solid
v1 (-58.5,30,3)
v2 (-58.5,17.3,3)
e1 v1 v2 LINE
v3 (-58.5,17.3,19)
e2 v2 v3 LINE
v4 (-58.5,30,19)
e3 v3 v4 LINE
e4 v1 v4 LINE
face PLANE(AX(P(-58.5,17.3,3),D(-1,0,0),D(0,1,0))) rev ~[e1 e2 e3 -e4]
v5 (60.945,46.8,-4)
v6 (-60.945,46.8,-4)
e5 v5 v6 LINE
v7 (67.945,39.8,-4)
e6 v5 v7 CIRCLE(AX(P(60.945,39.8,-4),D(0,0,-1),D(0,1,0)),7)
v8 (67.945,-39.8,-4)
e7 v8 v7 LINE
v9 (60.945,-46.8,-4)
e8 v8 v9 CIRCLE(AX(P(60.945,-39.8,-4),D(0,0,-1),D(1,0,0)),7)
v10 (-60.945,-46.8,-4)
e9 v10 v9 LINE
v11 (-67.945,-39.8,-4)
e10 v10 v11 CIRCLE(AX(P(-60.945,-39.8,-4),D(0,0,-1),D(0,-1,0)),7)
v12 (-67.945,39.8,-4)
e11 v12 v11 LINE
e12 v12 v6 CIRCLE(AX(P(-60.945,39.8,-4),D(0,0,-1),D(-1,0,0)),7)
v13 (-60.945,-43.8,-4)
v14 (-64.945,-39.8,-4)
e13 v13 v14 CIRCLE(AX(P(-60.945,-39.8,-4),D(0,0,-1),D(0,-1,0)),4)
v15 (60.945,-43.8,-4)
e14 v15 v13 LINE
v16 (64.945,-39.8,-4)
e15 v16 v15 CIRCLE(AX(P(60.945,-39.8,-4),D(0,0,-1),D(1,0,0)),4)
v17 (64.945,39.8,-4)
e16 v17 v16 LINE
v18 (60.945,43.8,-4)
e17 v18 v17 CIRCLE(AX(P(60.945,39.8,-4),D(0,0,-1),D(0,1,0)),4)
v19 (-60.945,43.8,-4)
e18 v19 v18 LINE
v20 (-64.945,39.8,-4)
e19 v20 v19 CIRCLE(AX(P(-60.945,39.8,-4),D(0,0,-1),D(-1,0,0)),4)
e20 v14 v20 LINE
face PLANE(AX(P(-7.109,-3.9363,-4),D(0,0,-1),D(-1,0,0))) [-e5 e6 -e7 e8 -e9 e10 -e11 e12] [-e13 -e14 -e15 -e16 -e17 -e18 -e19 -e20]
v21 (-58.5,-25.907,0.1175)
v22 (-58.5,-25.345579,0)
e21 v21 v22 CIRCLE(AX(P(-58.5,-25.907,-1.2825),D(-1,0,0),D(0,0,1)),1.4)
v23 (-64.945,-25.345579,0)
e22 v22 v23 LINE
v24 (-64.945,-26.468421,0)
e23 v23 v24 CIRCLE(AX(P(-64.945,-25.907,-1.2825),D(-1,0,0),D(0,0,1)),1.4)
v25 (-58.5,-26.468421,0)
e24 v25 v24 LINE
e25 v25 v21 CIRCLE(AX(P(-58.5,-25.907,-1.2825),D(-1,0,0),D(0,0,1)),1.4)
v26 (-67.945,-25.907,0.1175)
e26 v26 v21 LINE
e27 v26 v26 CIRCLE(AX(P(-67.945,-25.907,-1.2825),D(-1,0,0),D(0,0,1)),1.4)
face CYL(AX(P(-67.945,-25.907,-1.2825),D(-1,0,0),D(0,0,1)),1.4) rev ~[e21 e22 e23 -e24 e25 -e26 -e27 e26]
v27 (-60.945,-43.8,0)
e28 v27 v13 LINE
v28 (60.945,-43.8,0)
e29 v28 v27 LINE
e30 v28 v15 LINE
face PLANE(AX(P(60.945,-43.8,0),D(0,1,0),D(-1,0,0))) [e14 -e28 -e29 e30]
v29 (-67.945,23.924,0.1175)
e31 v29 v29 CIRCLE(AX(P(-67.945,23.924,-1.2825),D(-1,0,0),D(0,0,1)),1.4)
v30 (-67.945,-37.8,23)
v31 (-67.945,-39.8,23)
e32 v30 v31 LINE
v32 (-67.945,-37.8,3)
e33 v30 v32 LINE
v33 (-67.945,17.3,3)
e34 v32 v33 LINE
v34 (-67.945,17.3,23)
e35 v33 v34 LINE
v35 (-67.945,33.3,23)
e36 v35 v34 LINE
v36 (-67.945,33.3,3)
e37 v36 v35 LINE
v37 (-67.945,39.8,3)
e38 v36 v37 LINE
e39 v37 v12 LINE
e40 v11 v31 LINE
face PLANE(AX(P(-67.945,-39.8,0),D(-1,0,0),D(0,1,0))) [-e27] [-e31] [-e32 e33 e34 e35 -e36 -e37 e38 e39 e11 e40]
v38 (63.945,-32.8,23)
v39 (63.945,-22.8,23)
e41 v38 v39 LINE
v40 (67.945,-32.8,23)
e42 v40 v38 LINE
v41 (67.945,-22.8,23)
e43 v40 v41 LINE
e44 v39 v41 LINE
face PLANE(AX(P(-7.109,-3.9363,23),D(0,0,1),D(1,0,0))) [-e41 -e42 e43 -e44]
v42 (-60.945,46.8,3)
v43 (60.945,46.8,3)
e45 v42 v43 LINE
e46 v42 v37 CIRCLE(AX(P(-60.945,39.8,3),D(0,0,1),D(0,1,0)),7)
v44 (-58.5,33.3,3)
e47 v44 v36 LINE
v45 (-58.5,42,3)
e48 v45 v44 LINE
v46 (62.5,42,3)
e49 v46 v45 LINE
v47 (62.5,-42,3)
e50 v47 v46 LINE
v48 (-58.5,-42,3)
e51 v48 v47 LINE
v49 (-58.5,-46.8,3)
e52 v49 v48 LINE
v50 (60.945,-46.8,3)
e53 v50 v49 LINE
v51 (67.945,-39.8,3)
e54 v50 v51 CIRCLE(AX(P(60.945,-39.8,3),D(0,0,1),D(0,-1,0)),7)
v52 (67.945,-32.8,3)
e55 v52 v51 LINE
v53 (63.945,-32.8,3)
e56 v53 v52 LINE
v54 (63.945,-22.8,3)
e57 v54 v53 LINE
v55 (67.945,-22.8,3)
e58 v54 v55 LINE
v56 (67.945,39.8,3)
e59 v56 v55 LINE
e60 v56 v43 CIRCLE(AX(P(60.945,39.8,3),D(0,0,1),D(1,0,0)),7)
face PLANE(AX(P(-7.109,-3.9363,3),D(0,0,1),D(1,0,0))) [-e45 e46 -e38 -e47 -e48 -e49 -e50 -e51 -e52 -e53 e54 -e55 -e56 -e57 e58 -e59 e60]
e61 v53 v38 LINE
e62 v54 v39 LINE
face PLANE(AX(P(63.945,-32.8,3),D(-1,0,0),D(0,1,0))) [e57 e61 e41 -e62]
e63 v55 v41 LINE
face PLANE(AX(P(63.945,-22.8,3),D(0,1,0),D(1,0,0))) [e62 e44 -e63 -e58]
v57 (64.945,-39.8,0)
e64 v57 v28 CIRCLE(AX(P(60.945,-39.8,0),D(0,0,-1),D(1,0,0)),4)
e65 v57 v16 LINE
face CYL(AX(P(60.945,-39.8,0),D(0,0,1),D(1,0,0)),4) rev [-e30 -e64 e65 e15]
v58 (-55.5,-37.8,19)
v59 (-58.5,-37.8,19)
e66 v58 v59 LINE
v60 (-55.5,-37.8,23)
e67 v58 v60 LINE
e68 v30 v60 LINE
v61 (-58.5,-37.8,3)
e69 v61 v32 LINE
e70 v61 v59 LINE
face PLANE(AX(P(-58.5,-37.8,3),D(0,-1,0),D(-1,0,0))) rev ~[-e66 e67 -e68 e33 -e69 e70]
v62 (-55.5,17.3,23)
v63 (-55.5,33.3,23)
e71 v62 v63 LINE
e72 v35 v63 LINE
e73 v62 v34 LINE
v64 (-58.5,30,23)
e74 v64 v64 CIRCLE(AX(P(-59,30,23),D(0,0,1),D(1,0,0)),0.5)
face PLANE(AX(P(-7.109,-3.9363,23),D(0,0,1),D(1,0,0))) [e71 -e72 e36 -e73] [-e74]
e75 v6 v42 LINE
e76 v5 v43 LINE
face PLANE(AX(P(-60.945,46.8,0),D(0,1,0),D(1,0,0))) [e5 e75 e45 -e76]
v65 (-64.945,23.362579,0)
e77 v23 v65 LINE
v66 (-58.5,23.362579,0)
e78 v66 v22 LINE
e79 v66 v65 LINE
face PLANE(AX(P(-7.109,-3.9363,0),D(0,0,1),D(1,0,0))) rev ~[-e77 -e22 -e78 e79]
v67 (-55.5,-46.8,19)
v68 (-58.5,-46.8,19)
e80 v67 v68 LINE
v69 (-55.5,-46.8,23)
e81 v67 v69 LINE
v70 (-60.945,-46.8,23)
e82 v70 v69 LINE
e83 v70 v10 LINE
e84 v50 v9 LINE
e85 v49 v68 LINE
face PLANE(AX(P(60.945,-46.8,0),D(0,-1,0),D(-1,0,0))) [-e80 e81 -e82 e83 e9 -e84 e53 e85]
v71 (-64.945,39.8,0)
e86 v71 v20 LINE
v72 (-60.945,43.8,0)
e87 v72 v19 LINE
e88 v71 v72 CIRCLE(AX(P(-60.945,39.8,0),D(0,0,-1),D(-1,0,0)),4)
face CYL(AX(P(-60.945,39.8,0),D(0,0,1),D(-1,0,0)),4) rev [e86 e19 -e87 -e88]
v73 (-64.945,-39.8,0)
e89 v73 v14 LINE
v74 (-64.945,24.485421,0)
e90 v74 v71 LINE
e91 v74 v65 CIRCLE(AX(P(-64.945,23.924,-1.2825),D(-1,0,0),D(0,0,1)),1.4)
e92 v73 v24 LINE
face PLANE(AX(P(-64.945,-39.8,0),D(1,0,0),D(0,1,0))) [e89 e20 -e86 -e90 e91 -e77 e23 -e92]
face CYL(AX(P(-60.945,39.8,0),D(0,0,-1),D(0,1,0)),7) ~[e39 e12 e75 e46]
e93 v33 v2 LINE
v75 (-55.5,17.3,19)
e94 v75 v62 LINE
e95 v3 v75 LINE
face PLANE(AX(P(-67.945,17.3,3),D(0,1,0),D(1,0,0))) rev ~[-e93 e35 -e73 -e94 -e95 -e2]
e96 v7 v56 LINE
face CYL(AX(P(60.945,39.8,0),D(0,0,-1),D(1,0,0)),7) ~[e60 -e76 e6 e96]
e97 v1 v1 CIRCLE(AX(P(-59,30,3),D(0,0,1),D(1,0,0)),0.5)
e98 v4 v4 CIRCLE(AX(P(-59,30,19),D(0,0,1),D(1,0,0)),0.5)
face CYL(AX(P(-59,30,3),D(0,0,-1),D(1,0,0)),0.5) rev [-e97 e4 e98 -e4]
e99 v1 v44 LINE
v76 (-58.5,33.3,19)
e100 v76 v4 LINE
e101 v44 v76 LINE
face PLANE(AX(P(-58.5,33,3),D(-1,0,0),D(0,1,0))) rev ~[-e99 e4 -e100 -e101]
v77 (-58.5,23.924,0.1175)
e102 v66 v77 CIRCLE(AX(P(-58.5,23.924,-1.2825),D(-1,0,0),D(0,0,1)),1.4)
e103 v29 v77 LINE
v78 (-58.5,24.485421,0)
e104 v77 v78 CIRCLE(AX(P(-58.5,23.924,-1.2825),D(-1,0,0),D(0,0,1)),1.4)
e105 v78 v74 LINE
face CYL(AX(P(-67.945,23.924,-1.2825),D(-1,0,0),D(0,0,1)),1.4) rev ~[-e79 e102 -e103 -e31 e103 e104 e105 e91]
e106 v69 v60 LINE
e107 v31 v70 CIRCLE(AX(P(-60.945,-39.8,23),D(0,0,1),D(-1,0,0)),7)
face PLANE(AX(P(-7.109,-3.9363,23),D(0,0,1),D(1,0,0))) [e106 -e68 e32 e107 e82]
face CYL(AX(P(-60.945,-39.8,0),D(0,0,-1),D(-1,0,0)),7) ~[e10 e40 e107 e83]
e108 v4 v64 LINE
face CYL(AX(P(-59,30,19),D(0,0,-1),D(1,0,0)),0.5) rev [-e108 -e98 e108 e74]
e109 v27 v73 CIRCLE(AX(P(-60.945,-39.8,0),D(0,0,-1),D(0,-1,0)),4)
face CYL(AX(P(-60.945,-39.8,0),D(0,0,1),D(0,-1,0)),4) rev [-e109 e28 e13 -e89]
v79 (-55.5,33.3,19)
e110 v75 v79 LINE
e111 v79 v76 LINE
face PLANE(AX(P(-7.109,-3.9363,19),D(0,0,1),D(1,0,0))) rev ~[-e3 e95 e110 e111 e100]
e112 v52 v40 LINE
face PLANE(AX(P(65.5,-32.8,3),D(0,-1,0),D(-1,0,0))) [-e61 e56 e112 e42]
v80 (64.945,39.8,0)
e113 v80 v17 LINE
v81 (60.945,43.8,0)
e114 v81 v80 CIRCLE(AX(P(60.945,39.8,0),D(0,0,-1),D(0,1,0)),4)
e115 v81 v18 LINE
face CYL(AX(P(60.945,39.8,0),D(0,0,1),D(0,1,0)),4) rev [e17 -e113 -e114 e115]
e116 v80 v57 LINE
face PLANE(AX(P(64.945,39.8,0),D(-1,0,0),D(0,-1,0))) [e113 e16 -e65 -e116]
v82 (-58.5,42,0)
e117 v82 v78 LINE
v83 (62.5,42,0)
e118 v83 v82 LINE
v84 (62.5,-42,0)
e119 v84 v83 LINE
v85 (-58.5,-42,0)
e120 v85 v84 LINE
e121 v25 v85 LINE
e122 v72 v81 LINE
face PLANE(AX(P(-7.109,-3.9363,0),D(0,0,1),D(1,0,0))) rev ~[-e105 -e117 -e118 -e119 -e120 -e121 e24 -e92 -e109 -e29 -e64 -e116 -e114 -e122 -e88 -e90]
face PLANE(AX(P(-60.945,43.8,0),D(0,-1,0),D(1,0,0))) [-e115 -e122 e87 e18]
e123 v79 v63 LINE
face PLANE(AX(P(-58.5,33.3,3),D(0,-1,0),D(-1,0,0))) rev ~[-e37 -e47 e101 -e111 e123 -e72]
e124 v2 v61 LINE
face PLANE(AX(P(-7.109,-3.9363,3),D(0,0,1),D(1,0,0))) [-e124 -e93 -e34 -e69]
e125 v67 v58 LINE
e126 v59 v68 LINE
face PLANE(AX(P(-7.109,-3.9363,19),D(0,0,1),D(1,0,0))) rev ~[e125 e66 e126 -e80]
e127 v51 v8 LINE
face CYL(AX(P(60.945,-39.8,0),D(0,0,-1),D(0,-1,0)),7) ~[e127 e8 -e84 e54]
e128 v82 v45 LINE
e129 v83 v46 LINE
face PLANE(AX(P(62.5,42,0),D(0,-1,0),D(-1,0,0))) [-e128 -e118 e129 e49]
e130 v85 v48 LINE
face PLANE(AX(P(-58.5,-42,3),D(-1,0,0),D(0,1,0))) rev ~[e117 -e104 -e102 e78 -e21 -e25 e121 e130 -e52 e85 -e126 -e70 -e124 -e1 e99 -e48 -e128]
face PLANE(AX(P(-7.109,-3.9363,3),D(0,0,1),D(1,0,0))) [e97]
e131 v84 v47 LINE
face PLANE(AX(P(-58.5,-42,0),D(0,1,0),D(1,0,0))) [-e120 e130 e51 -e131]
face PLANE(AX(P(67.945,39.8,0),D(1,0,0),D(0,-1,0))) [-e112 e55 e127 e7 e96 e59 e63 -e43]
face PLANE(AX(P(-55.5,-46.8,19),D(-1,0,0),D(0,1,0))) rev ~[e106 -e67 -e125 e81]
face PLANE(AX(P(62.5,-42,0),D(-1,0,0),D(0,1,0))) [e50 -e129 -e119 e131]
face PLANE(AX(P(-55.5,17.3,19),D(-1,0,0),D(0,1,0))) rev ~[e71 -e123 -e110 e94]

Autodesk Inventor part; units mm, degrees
ref_plane "YZ Plane" through (0, 0, 0) normal (1, 0, 0) x (0, 1, 0)
ref_plane "XZ Plane" through (0, 0, 0) normal (0, 1, 0) x (-1, 0, 0)
ref_plane "XY Plane" through (0, 0, 0) normal (0, 0, 1) x (1, 0, 0)
ref_plane "Work Plane1" through (-7.109, -3.9363, 0) normal (0, 0, 1) x (1, 0, 0)
sketch "Sketch1" plane through (-7.109, -3.9363, 0) normal (0, 0, 1) x (1, 0, 0)
  line L0 (71.054, 43.7363) -> (71.054, -35.8637) construction
  arc A0 (71.054, 43.7363) -> (68.054, 46.7363) centre (68.054, 43.7363) ccw construction
  line L1 (-53.836, 46.7363) -> (68.054, 46.7363) construction
  arc A1 (-53.836, 46.7363) -> (-56.836, 43.7363) centre (-53.836, 43.7363) ccw construction
  line L2 (-56.836, -35.8637) -> (-56.836, 43.7363) construction
  arc A2 (-56.836, -35.8637) -> (-53.836, -38.8637) centre (-53.836, -35.8637) ccw construction
  line L3 (68.054, -38.8637) -> (-53.836, -38.8637) construction
  arc A3 (68.054, -38.8637) -> (71.054, -35.8637) centre (68.054, -35.8637) ccw construction
  line L4 (-56.516, -35.5437) -> (-56.516, 43.4163) construction
  arc A4 (-53.516, 46.4163) -> (-56.516, 43.4163) centre (-53.516, 43.4163) ccw construction
  line L5 (-53.516, 46.4163) -> (67.734, 46.4163) construction
  arc A5 (70.734, 43.4163) -> (67.734, 46.4163) centre (67.734, 43.4163) ccw construction
  line L6 (70.734, 43.4163) -> (70.734, -35.5437) construction
  arc A6 (67.734, -38.5437) -> (70.734, -35.5437) centre (67.734, -35.5437) ccw construction
  line L7 (67.734, -38.5437) -> (-53.516, -38.5437) construction
  arc A7 (-56.516, -35.5437) -> (-53.516, -38.5437) centre (-53.516, -35.5437) ccw construction
  arc A8 (75.054, 43.7363) -> (68.054, 50.7363) centre (68.054, 43.7363) ccw
  line L8 (75.054, 43.7363) -> (75.054, -35.8637)
  arc A9 (68.054, -42.8637) -> (75.054, -35.8637) centre (68.054, -35.8637) ccw
  line L9 (68.054, -42.8637) -> (-53.836, -42.8637)
  arc A10 (-60.836, -35.8637) -> (-53.836, -42.8637) centre (-53.836, -35.8637) ccw
  line L10 (-60.836, -35.8637) -> (-60.836, 43.7363)
  arc A11 (-53.836, 50.7363) -> (-60.836, 43.7363) centre (-53.836, 43.7363) ccw
  line L11 (-53.836, 50.7363) -> (68.054, 50.7363)
  circle A12 centre (53.6173, 21.8363) radius 4 construction
  circle A13 centre (53.6173, 3.8363) radius 4 construction
  circle A14 centre (53.6173, -14.1637) radius 4 construction
  circle A15 centre (35.6173, 21.8363) radius 4 construction
  circle A16 centre (35.6173, 3.8363) radius 4 construction
  circle A17 centre (35.6173, -14.1637) radius 4 construction
  circle A18 centre (17.6173, 21.8363) radius 4 construction
  circle A19 centre (17.6173, 3.8363) radius 4 construction
  circle A20 centre (17.6173, -14.1637) radius 4 construction
  circle A21 centre (-0.3827, 21.8363) radius 4 construction
  circle A22 centre (-0.3827, 3.8363) radius 4 construction
  circle A23 centre (-0.3827, -14.1637) radius 4 construction
  circle A24 centre (-18.3827, 21.8363) radius 4 construction
  circle A25 centre (-18.3827, 3.8363) radius 4 construction
  circle A26 centre (-18.3827, -14.1637) radius 4 construction
  circle A27 centre (-36.3827, 21.8363) radius 4 construction
  circle A28 centre (-36.3827, 3.8363) radius 4 construction
  circle A29 centre (-36.3827, -14.1637) radius 4 construction
  circle A30 centre (-36.3827, 30.7863) radius 4.375 construction
  circle A31 centre (-18.3827, 30.7863) radius 4.375 construction
  circle A32 centre (-0.3827, 30.7863) radius 4.375 construction
  circle A33 centre (17.6173, 30.7863) radius 4.375 construction
  circle A34 centre (35.6173, 30.7863) radius 4.375 construction
  circle A35 centre (53.6173, 30.7863) radius 4.375 construction
  circle A36 centre (-36.3827, 12.7863) radius 4.375 construction
  circle A37 centre (-18.3827, 12.7863) radius 4.375 construction
  circle A38 centre (-0.3827, 12.7863) radius 4.375 construction
  circle A39 centre (17.6173, 12.7863) radius 4.375 construction
  circle A40 centre (35.6173, 12.7863) radius 4.375 construction
  circle A41 centre (53.6173, 12.7863) radius 4.375 construction
  circle A42 centre (-36.3827, -5.2137) radius 4.375 construction
  circle A43 centre (-18.3827, -5.2137) radius 4.375 construction
  circle A44 centre (-0.3827, -5.2137) radius 4.375 construction
  circle A45 centre (17.6173, -5.2137) radius 4.375 construction
  circle A46 centre (35.6173, -5.2137) radius 4.375 construction
  circle A47 centre (53.6173, -5.2137) radius 4.375 construction
  circle A48 centre (-36.3827, -23.2137) radius 4.375 construction
  circle A49 centre (-18.3827, -23.2137) radius 4.375 construction
  circle A50 centre (-0.3827, -23.2137) radius 4.375 construction
  circle A51 centre (17.6173, -23.2137) radius 4.375 construction
  circle A52 centre (35.6173, -23.2137) radius 4.375 construction
  circle A53 centre (53.6173, -23.2137) radius 4.375 construction
  arc A54 (57.7361, 42.9363) -> (61.1439, 37.9635) centre (61.609, 41.9363) ccw construction
  line L12 (-39.518, 42.9363) -> (57.7361, 42.9363) construction
  arc A55 (-42.9259, 37.9635) -> (-39.518, 42.9363) centre (-43.391, 41.9363) ccw construction
  arc A56 (-48.391, 33.7282) -> (-42.9259, 37.9635) centre (-46.891, 37.4363) ccw construction
  line L13 (-48.391, -25.8556) -> (-48.391, 33.7282) construction
  arc A57 (-42.9259, -30.0908) -> (-48.391, -25.8556) centre (-46.891, -29.5637) ccw construction
  arc A58 (-39.518, -35.0637) -> (-42.9259, -30.0908) centre (-43.391, -34.0637) ccw construction
  line L14 (57.7361, -35.0637) -> (-39.518, -35.0637) construction
  arc A59 (61.1439, -30.0908) -> (57.7361, -35.0637) centre (61.609, -34.0637) ccw construction
  arc A60 (66.609, -25.8556) -> (61.1439, -30.0908) centre (65.109, -29.5637) ccw construction
  line L15 (66.609, 33.7282) -> (66.609, -25.8556) construction
  arc A61 (61.1439, 37.9635) -> (66.609, 33.7282) centre (65.109, 37.4363) ccw construction
  arc A62 (67.609, -27.9054) -> (62.6207, -31.2394) centre (65.109, -29.5637) ccw construction
  arc A63 (62.6207, -31.2394) -> (59.373, -36.0637) centre (61.609, -34.0637) ccw construction
  line L16 (59.373, -36.0637) -> (-41.1549, -36.0637) construction
  arc A64 (-41.1549, -36.0637) -> (-44.4026, -31.2394) centre (-43.391, -34.0637) ccw construction
  arc A65 (-44.4026, -31.2394) -> (-49.391, -27.9054) centre (-46.891, -29.5637) ccw construction
  line L17 (-49.391, -27.9054) -> (-49.391, 35.778) construction
  arc A66 (-49.391, 35.778) -> (-44.4026, 39.112) centre (-46.891, 37.4363) ccw construction
  arc A67 (-44.4026, 39.112) -> (-41.1549, 43.9363) centre (-43.391, 41.9363) ccw construction
  line L18 (-41.1549, 43.9363) -> (59.373, 43.9363) construction
  arc A68 (59.373, 43.9363) -> (62.6207, 39.112) centre (61.609, 41.9363) ccw construction
  arc A69 (62.6207, 39.112) -> (67.609, 35.778) centre (65.109, 37.4363) ccw construction
  line L19 (67.609, 35.778) -> (67.609, -27.9054) construction
  line L20 (69.609, 45.9363) -> (-51.391, 45.9363)
  line L21 (-51.391, 45.9363) -> (-51.391, -38.0637)
  line L22 (-51.391, -38.0637) -> (69.609, -38.0637)
  line L23 (69.609, -38.0637) -> (69.609, 45.9363)
  point P0 (7.109, 3.9363)
  dimension "d0" = 4
  dimension "d1" = 1
  dimension "d10" = 2
  dimension "d11" = 2
  dimension "d12" = 2
  dimension "d13" = 2
extrude "Extrusion1" add sketch "Sketch1" along normal blind 3
sketch "Sketch2" plane through (-7.109, -3.9363, 0) normal (0, 0, -1) x (-1, 0, 0)
  line L0 (-71.054, 43.7363) -> (-71.054, -35.8637) construction
  arc A0 (-68.054, 46.7363) -> (-71.054, 43.7363) centre (-68.054, 43.7363) ccw construction
  line L1 (53.836, 46.7363) -> (-68.054, 46.7363) construction
  arc A1 (56.836, 43.7363) -> (53.836, 46.7363) centre (53.836, 43.7363) ccw construction
  line L2 (56.836, -35.8637) -> (56.836, 43.7363) construction
  arc A2 (53.836, -38.8637) -> (56.836, -35.8637) centre (53.836, -35.8637) ccw construction
  line L3 (-68.054, -38.8637) -> (53.836, -38.8637) construction
  arc A3 (-71.054, -35.8637) -> (-68.054, -38.8637) centre (-68.054, -35.8637) ccw construction
  line L4 (56.516, -35.5437) -> (56.516, 43.4163) construction
  arc A4 (56.516, 43.4163) -> (53.516, 46.4163) centre (53.516, 43.4163) ccw construction
  line L5 (53.516, 46.4163) -> (-67.734, 46.4163) construction
  arc A5 (-67.734, 46.4163) -> (-70.734, 43.4163) centre (-67.734, 43.4163) ccw construction
  line L6 (-70.734, 43.4163) -> (-70.734, -35.5437) construction
  arc A6 (-70.734, -35.5437) -> (-67.734, -38.5437) centre (-67.734, -35.5437) ccw construction
  line L7 (-67.734, -38.5437) -> (53.516, -38.5437) construction
  arc A7 (53.516, -38.5437) -> (56.516, -35.5437) centre (53.516, -35.5437) ccw construction
  arc A8 (-68.054, 47.7363) -> (-72.054, 43.7363) centre (-68.054, 43.7363) ccw
  line L8 (-72.054, 43.7363) -> (-72.054, -35.8637)
  arc A9 (-72.054, -35.8637) -> (-68.054, -39.8637) centre (-68.054, -35.8637) ccw
  line L9 (-68.054, -39.8637) -> (53.836, -39.8637)
  arc A10 (53.836, -39.8637) -> (57.836, -35.8637) centre (53.836, -35.8637) ccw
  line L10 (57.836, -35.8637) -> (57.836, 43.7363)
  arc A11 (57.836, 43.7363) -> (53.836, 47.7363) centre (53.836, 43.7363) ccw
  line L11 (53.836, 47.7363) -> (-68.054, 47.7363)
  arc A12 (56.016, 43.4163) -> (53.516, 45.9163) centre (53.516, 43.4163) ccw
  line L12 (56.016, 43.4163) -> (56.016, -35.5437)
  arc A13 (53.516, -38.0437) -> (56.016, -35.5437) centre (53.516, -35.5437) ccw
  line L13 (53.516, -38.0437) -> (-67.734, -38.0437)
  arc A14 (-70.234, -35.5437) -> (-67.734, -38.0437) centre (-67.734, -35.5437) ccw
  line L14 (-70.234, -35.5437) -> (-70.234, 43.4163)
  arc A15 (-67.734, 45.9163) -> (-70.234, 43.4163) centre (-67.734, 43.4163) ccw
  line L15 (-67.734, 45.9163) -> (53.516, 45.9163)
  line L16 (-69.609, 45.9363) -> (-69.609, -38.0637) projected
  line L17 (-69.609, -38.0637) -> (51.391, -38.0637) projected
  line L18 (51.391, -38.0637) -> (51.391, 45.9363) projected
  line L19 (51.391, 45.9363) -> (-69.609, 45.9363) projected
  arc A16 (-68.054, 50.7363) -> (-75.054, 43.7363) centre (-68.054, 43.7363) ccw projected
  line L20 (-68.054, 50.7363) -> (53.836, 50.7363) projected
  arc A17 (60.836, 43.7363) -> (53.836, 50.7363) centre (53.836, 43.7363) ccw projected
  line L21 (60.836, 43.7363) -> (60.836, -35.8637) projected
  arc A18 (53.836, -42.8637) -> (60.836, -35.8637) centre (53.836, -35.8637) ccw projected
  line L22 (53.836, -42.8637) -> (-68.054, -42.8637) projected
  arc A19 (-75.054, -35.8637) -> (-68.054, -42.8637) centre (-68.054, -35.8637) ccw projected
  line L23 (-75.054, -35.8637) -> (-75.054, 43.7363) projected
  point P0 (-7.109, 3.9363)
  dimension "d4" = 1
  dimension "d5" = 0.5
extrude "Extrusion2" add sketch "Sketch2" along normal blind 4 contours L20 A17 L21 A18 L22 A19 L23 A16
sketch "Sketch3" plane through (-7.109, -3.9363, 3) normal (0, 0, 1) x (1, 0, 0)
  line L0 (69.609, 45.9363) -> (69.609, -38.0637) projected
  line L1 (69.609, -38.0637) -> (-51.391, -38.0637) projected
  line L2 (-51.391, -38.0637) -> (-51.391, 45.9363) projected
  line L3 (-51.391, 45.9363) -> (69.609, 45.9363) projected
  arc A0 (75.054, 43.7363) -> (68.054, 50.7363) centre (68.054, 43.7363) ccw projected
  line L4 (68.054, 50.7363) -> (-53.836, 50.7363) projected
  arc A1 (-53.836, 50.7363) -> (-60.836, 43.7363) centre (-53.836, 43.7363) ccw projected
  line L5 (-60.836, 43.7363) -> (-60.836, -35.8637) projected
  arc A2 (-60.836, -35.8637) -> (-53.836, -42.8637) centre (-53.836, -35.8637) ccw projected
  line L6 (-53.836, -42.8637) -> (68.054, -42.8637) projected
  arc A3 (68.054, -42.8637) -> (75.054, -35.8637) centre (68.054, -35.8637) ccw projected
  line L7 (75.054, -35.8637) -> (75.054, 43.7363) projected
  line L8 (75.054, 25.8105) -> (71.9538, 25.8105)
  line L9 (70.434, 43.4163) -> (70.434, -35.5437) projected
  arc A4 (75.054, 43.7363) -> (68.054, 50.7363) centre (68.054, 43.7363) ccw projected
  line L10 (75.054, -28.8637) -> (71.054, -28.8637)
  line L11 (71.054, -28.8637) -> (71.054, -18.8637)
  line L12 (71.054, -18.8637) -> (75.054, -18.8637)
  line L13 (75.054, -18.8637) -> (75.054, -28.8637)
  circle A5 centre (70.109, -26.0637) radius 0.5 projected
  line L14 (67.609, -23.0637) -> (67.609, -29.0637) projected
  line L15 (67.609, -29.0637) -> (72.609, -29.0637) projected
  line L16 (72.609, -23.0637) -> (72.609, -29.0637) projected
  line L17 (67.609, -23.0637) -> (72.609, -23.0637) projected
  point P0 (7.109, 3.9363)
  point P1 (71.7253, 49.6963)
  dimension "d14" = 4
  dimension "d15" = 10
  dimension "d23" = 14
extrude "Extrusion3" add sketch "Sketch3" along normal blind 20 contours L17 L16 L10 L11 | L11 L12 L7 L10 L16 L17
ref_plane "Work Plane2" through (0, -39.8, -4) normal (1, 0, 0) x (0, 0, -1)
sketch "Sketch4" plane through (-7.109, -3.9363, 3) normal (0, 0, 1) x (1, 0, 0)
  arc A0 (75.054, 43.7363) -> (68.054, 50.7363) centre (68.054, 43.7363) ccw projected
  line L0 (68.054, 50.7363) -> (-53.836, 50.7363) projected
  arc A1 (-53.836, 50.7363) -> (-60.836, 43.7363) centre (-53.836, 43.7363) ccw projected
  line L1 (-60.836, 43.7363) -> (-60.836, -35.8637) projected
  arc A2 (-60.836, -35.8637) -> (-53.836, -42.8637) centre (-53.836, -35.8637) ccw projected
  line L2 (-53.836, -42.8637) -> (68.054, -42.8637) projected
  arc A3 (68.054, -42.8637) -> (75.054, -35.8637) centre (68.054, -35.8637) ccw projected
  line L3 (75.054, -18.8637) -> (75.054, 43.7363) projected
  line L4 (71.054, -28.8637) -> (71.054, -18.8637) projected
  line L5 (69.609, 45.9363) -> (69.609, -38.0637) projected
  line L6 (69.609, -38.0637) -> (-51.391, -38.0637) projected
  line L7 (-51.391, -38.0637) -> (-51.391, 45.9363) projected
  line L8 (-51.391, 45.9363) -> (69.609, 45.9363) projected
  circle A4 centre (-51.891, 33.9363) radius 0.5 projected
  line L9 (-49.391, 30.9363) -> (-49.391, 36.9363) projected
  line L10 (-49.391, 36.9363) -> (-54.391, 36.9363) projected
  line L11 (-54.391, 30.9363) -> (-54.391, 36.9363) projected
  line L12 (-49.391, 30.9363) -> (-54.391, 30.9363) projected
  line L13 (-51.391, -38.0637) -> (-51.391, 45.9363) projected
  line L14 (-60.836, -35.8637) -> (-60.836, 43.7363) construction
  line L15 (-51.391, 37.2363) -> (-60.836, 37.2363)
  line L16 (-60.836, 37.2363) -> (-60.836, 21.2363)
  line L17 (-60.836, 21.2363) -> (-51.391, 21.2363)
  line L18 (-51.391, 21.2363) -> (-51.391, 37.2363)
  line L19 (71.054, -18.8637) -> (75.054, -18.8637) projected
  line L20 (75.054, -35.8637) -> (75.054, -28.8637) projected
  line L21 (75.054, -28.8637) -> (71.054, -28.8637) projected
  line L22 (-53.836, -42.8637) -> (68.054, -42.8637) projected
  line L23 (-51.391, -42.8637) -> (-51.391, -38.0637)
  line L24 (-51.391, 45.9363) -> (-51.391, -38.0637) projected
  line L25 (-51.391, -33.8637) -> (-60.836, -33.8637)
  line L26 (-51.391, -33.8637) -> (-60.836, -33.8637)
  line L27 (-60.836, -33.8637) -> (-60.836, -42.8637)
  line L28 (-60.836, -42.8637) -> (-51.391, -42.8637)
  line L29 (-51.391, -42.8637) -> (-51.391, -33.8637)
  line L30 (-60.836, 43.7363) -> (-60.836, -35.8637) projected
  arc A5 (-60.836, -35.8637) -> (-53.836, -42.8637) centre (-53.836, -35.8637) ccw projected
  arc A6 (-60.836, -35.8637) -> (-53.836, -42.8637) centre (-53.836, -35.8637) ccw
  point P0 (7.109, 3.9363)
  dimension "d20" = 16
  dimension "d28" = 13.5
  dimension "d30" = 9
extrude "Extrusion4" add sketch "Sketch4" along normal blind 16 contours L15 L7 L10 L11 L12 L17 L1 | L25 L7 L23 L2 A2 L1 | L7 L12 L11 L10
sketch "Sketch5" plane through (-67.945, -39.8, -4) normal (-1, 0, 0) x (0, 0, 1)
  line L0 (23, 0) -> (0, 0) projected
  line L1 (7, 57.1) -> (7, 2) projected
  line L2 (7, 57.1) -> (23, 57.1) projected
  line L3 (23, 73.1) -> (23, 57.1) projected
  line L4 (7, 73.1) -> (23, 73.1) projected
  line L5 (7, 79.6) -> (7, 73.1) projected
  line L6 (7, 79.6) -> (0, 79.6) projected
  line L7 (0, 0) -> (0, 79.6) projected
  circle A0 centre (2.7175, 63.724) radius 1.4
  circle A1 centre (2.7175, 13.893) radius 1.4
  line L8 (23, 0) -> (0, 0) projected
  line L9 (7, 0) -> (23, 0)
  line L10 (23, 0) -> (23, 2)
  line L11 (23, 2) -> (7, 2)
  line L12 (7, 2) -> (7, 0)
  line L13 (23, -7) -> (0, -7) projected
  line L14 (7, -7) -> (7, 0) projected
  line L15 (7, 0) -> (23, 0)
  line L16 (23, 0) -> (23, -7)
  line L17 (23, -7) -> (7, -7)
  line L18 (7, -7) -> (7, 0)
  line L19 (0, 0) -> (0, 79.6) projected
  line L20 (7, -7) -> (0, -7)
  line L21 (0, -7) -> (0, 2)
  line L22 (0, 2) -> (7, 2)
  line L23 (7, 2) -> (7, -7)
  line L24 (23, 2) -> (23, 0) projected
  line L25 (7, 2) -> (23, 2) projected
  point P0 (4, 39.8)
  dimension "d24" = 2.8
  dimension "d25" = 2.8
  dimension "d29" = 9
extrude "Extrusion5" cut sketch "Sketch5" against normal blind 16 contours A0 | A1
sketch "Sketch6" plane through (-7.109, -3.9363, 19) normal (0, 0, 1) x (1, 0, 0)
  arc A0 (-60.836, -35.8637) -> (-53.836, -42.8637) centre (-53.836, -35.8637) ccw projected
  line L0 (-53.836, -42.8637) -> (-51.391, -42.8637) projected
  line L1 (-51.391, -42.8637) -> (-51.391, -33.8637) projected
  line L2 (-51.391, -33.8637) -> (-60.836, -33.8637) projected
  line L3 (-60.836, -33.8637) -> (-60.836, -35.8637) projected
  line L4 (-60.836, 21.2363) -> (-51.391, 21.2363) projected
  line L5 (-51.391, 21.2363) -> (-51.391, 33.9363) projected
  circle A1 centre (-51.891, 33.9363) radius 0.5 projected
  line L6 (-51.391, 33.9363) -> (-51.391, 37.2363) projected
  line L7 (-51.391, 37.2363) -> (-60.836, 37.2363) projected
  line L8 (-60.836, 37.2363) -> (-60.836, 21.2363) projected
  line L9 (-51.391, -42.8637) -> (-48.391, -42.8637)
  line L10 (-48.391, -42.8637) -> (-48.391, -33.8637)
  line L11 (-48.391, -33.8637) -> (-51.391, -33.8637)
  line L12 (-51.391, -33.8637) -> (-51.391, -42.8637)
  line L13 (-60.836, 21.2363) -> (-51.391, 21.2363) projected
  line L14 (-51.391, 21.2363) -> (-48.391, 21.2363)
  line L15 (-48.391, 21.2363) -> (-48.391, 37.2363)
  line L16 (-48.391, 37.2363) -> (-51.391, 37.2363)
  line L17 (-51.391, 37.2363) -> (-51.391, 21.2363)
  point P0 (7.109, 3.9363)
  dimension "d31" = 3
extrude "Extrusion6" add sketch "Sketch6" along normal up to surface (4 mm away)
equation "\"d10\" = d11"
equation "\"d12\" = d11"
equation "\"d13\" = d11"
properties part number "07_Omnivision_wellplate_traystage"
